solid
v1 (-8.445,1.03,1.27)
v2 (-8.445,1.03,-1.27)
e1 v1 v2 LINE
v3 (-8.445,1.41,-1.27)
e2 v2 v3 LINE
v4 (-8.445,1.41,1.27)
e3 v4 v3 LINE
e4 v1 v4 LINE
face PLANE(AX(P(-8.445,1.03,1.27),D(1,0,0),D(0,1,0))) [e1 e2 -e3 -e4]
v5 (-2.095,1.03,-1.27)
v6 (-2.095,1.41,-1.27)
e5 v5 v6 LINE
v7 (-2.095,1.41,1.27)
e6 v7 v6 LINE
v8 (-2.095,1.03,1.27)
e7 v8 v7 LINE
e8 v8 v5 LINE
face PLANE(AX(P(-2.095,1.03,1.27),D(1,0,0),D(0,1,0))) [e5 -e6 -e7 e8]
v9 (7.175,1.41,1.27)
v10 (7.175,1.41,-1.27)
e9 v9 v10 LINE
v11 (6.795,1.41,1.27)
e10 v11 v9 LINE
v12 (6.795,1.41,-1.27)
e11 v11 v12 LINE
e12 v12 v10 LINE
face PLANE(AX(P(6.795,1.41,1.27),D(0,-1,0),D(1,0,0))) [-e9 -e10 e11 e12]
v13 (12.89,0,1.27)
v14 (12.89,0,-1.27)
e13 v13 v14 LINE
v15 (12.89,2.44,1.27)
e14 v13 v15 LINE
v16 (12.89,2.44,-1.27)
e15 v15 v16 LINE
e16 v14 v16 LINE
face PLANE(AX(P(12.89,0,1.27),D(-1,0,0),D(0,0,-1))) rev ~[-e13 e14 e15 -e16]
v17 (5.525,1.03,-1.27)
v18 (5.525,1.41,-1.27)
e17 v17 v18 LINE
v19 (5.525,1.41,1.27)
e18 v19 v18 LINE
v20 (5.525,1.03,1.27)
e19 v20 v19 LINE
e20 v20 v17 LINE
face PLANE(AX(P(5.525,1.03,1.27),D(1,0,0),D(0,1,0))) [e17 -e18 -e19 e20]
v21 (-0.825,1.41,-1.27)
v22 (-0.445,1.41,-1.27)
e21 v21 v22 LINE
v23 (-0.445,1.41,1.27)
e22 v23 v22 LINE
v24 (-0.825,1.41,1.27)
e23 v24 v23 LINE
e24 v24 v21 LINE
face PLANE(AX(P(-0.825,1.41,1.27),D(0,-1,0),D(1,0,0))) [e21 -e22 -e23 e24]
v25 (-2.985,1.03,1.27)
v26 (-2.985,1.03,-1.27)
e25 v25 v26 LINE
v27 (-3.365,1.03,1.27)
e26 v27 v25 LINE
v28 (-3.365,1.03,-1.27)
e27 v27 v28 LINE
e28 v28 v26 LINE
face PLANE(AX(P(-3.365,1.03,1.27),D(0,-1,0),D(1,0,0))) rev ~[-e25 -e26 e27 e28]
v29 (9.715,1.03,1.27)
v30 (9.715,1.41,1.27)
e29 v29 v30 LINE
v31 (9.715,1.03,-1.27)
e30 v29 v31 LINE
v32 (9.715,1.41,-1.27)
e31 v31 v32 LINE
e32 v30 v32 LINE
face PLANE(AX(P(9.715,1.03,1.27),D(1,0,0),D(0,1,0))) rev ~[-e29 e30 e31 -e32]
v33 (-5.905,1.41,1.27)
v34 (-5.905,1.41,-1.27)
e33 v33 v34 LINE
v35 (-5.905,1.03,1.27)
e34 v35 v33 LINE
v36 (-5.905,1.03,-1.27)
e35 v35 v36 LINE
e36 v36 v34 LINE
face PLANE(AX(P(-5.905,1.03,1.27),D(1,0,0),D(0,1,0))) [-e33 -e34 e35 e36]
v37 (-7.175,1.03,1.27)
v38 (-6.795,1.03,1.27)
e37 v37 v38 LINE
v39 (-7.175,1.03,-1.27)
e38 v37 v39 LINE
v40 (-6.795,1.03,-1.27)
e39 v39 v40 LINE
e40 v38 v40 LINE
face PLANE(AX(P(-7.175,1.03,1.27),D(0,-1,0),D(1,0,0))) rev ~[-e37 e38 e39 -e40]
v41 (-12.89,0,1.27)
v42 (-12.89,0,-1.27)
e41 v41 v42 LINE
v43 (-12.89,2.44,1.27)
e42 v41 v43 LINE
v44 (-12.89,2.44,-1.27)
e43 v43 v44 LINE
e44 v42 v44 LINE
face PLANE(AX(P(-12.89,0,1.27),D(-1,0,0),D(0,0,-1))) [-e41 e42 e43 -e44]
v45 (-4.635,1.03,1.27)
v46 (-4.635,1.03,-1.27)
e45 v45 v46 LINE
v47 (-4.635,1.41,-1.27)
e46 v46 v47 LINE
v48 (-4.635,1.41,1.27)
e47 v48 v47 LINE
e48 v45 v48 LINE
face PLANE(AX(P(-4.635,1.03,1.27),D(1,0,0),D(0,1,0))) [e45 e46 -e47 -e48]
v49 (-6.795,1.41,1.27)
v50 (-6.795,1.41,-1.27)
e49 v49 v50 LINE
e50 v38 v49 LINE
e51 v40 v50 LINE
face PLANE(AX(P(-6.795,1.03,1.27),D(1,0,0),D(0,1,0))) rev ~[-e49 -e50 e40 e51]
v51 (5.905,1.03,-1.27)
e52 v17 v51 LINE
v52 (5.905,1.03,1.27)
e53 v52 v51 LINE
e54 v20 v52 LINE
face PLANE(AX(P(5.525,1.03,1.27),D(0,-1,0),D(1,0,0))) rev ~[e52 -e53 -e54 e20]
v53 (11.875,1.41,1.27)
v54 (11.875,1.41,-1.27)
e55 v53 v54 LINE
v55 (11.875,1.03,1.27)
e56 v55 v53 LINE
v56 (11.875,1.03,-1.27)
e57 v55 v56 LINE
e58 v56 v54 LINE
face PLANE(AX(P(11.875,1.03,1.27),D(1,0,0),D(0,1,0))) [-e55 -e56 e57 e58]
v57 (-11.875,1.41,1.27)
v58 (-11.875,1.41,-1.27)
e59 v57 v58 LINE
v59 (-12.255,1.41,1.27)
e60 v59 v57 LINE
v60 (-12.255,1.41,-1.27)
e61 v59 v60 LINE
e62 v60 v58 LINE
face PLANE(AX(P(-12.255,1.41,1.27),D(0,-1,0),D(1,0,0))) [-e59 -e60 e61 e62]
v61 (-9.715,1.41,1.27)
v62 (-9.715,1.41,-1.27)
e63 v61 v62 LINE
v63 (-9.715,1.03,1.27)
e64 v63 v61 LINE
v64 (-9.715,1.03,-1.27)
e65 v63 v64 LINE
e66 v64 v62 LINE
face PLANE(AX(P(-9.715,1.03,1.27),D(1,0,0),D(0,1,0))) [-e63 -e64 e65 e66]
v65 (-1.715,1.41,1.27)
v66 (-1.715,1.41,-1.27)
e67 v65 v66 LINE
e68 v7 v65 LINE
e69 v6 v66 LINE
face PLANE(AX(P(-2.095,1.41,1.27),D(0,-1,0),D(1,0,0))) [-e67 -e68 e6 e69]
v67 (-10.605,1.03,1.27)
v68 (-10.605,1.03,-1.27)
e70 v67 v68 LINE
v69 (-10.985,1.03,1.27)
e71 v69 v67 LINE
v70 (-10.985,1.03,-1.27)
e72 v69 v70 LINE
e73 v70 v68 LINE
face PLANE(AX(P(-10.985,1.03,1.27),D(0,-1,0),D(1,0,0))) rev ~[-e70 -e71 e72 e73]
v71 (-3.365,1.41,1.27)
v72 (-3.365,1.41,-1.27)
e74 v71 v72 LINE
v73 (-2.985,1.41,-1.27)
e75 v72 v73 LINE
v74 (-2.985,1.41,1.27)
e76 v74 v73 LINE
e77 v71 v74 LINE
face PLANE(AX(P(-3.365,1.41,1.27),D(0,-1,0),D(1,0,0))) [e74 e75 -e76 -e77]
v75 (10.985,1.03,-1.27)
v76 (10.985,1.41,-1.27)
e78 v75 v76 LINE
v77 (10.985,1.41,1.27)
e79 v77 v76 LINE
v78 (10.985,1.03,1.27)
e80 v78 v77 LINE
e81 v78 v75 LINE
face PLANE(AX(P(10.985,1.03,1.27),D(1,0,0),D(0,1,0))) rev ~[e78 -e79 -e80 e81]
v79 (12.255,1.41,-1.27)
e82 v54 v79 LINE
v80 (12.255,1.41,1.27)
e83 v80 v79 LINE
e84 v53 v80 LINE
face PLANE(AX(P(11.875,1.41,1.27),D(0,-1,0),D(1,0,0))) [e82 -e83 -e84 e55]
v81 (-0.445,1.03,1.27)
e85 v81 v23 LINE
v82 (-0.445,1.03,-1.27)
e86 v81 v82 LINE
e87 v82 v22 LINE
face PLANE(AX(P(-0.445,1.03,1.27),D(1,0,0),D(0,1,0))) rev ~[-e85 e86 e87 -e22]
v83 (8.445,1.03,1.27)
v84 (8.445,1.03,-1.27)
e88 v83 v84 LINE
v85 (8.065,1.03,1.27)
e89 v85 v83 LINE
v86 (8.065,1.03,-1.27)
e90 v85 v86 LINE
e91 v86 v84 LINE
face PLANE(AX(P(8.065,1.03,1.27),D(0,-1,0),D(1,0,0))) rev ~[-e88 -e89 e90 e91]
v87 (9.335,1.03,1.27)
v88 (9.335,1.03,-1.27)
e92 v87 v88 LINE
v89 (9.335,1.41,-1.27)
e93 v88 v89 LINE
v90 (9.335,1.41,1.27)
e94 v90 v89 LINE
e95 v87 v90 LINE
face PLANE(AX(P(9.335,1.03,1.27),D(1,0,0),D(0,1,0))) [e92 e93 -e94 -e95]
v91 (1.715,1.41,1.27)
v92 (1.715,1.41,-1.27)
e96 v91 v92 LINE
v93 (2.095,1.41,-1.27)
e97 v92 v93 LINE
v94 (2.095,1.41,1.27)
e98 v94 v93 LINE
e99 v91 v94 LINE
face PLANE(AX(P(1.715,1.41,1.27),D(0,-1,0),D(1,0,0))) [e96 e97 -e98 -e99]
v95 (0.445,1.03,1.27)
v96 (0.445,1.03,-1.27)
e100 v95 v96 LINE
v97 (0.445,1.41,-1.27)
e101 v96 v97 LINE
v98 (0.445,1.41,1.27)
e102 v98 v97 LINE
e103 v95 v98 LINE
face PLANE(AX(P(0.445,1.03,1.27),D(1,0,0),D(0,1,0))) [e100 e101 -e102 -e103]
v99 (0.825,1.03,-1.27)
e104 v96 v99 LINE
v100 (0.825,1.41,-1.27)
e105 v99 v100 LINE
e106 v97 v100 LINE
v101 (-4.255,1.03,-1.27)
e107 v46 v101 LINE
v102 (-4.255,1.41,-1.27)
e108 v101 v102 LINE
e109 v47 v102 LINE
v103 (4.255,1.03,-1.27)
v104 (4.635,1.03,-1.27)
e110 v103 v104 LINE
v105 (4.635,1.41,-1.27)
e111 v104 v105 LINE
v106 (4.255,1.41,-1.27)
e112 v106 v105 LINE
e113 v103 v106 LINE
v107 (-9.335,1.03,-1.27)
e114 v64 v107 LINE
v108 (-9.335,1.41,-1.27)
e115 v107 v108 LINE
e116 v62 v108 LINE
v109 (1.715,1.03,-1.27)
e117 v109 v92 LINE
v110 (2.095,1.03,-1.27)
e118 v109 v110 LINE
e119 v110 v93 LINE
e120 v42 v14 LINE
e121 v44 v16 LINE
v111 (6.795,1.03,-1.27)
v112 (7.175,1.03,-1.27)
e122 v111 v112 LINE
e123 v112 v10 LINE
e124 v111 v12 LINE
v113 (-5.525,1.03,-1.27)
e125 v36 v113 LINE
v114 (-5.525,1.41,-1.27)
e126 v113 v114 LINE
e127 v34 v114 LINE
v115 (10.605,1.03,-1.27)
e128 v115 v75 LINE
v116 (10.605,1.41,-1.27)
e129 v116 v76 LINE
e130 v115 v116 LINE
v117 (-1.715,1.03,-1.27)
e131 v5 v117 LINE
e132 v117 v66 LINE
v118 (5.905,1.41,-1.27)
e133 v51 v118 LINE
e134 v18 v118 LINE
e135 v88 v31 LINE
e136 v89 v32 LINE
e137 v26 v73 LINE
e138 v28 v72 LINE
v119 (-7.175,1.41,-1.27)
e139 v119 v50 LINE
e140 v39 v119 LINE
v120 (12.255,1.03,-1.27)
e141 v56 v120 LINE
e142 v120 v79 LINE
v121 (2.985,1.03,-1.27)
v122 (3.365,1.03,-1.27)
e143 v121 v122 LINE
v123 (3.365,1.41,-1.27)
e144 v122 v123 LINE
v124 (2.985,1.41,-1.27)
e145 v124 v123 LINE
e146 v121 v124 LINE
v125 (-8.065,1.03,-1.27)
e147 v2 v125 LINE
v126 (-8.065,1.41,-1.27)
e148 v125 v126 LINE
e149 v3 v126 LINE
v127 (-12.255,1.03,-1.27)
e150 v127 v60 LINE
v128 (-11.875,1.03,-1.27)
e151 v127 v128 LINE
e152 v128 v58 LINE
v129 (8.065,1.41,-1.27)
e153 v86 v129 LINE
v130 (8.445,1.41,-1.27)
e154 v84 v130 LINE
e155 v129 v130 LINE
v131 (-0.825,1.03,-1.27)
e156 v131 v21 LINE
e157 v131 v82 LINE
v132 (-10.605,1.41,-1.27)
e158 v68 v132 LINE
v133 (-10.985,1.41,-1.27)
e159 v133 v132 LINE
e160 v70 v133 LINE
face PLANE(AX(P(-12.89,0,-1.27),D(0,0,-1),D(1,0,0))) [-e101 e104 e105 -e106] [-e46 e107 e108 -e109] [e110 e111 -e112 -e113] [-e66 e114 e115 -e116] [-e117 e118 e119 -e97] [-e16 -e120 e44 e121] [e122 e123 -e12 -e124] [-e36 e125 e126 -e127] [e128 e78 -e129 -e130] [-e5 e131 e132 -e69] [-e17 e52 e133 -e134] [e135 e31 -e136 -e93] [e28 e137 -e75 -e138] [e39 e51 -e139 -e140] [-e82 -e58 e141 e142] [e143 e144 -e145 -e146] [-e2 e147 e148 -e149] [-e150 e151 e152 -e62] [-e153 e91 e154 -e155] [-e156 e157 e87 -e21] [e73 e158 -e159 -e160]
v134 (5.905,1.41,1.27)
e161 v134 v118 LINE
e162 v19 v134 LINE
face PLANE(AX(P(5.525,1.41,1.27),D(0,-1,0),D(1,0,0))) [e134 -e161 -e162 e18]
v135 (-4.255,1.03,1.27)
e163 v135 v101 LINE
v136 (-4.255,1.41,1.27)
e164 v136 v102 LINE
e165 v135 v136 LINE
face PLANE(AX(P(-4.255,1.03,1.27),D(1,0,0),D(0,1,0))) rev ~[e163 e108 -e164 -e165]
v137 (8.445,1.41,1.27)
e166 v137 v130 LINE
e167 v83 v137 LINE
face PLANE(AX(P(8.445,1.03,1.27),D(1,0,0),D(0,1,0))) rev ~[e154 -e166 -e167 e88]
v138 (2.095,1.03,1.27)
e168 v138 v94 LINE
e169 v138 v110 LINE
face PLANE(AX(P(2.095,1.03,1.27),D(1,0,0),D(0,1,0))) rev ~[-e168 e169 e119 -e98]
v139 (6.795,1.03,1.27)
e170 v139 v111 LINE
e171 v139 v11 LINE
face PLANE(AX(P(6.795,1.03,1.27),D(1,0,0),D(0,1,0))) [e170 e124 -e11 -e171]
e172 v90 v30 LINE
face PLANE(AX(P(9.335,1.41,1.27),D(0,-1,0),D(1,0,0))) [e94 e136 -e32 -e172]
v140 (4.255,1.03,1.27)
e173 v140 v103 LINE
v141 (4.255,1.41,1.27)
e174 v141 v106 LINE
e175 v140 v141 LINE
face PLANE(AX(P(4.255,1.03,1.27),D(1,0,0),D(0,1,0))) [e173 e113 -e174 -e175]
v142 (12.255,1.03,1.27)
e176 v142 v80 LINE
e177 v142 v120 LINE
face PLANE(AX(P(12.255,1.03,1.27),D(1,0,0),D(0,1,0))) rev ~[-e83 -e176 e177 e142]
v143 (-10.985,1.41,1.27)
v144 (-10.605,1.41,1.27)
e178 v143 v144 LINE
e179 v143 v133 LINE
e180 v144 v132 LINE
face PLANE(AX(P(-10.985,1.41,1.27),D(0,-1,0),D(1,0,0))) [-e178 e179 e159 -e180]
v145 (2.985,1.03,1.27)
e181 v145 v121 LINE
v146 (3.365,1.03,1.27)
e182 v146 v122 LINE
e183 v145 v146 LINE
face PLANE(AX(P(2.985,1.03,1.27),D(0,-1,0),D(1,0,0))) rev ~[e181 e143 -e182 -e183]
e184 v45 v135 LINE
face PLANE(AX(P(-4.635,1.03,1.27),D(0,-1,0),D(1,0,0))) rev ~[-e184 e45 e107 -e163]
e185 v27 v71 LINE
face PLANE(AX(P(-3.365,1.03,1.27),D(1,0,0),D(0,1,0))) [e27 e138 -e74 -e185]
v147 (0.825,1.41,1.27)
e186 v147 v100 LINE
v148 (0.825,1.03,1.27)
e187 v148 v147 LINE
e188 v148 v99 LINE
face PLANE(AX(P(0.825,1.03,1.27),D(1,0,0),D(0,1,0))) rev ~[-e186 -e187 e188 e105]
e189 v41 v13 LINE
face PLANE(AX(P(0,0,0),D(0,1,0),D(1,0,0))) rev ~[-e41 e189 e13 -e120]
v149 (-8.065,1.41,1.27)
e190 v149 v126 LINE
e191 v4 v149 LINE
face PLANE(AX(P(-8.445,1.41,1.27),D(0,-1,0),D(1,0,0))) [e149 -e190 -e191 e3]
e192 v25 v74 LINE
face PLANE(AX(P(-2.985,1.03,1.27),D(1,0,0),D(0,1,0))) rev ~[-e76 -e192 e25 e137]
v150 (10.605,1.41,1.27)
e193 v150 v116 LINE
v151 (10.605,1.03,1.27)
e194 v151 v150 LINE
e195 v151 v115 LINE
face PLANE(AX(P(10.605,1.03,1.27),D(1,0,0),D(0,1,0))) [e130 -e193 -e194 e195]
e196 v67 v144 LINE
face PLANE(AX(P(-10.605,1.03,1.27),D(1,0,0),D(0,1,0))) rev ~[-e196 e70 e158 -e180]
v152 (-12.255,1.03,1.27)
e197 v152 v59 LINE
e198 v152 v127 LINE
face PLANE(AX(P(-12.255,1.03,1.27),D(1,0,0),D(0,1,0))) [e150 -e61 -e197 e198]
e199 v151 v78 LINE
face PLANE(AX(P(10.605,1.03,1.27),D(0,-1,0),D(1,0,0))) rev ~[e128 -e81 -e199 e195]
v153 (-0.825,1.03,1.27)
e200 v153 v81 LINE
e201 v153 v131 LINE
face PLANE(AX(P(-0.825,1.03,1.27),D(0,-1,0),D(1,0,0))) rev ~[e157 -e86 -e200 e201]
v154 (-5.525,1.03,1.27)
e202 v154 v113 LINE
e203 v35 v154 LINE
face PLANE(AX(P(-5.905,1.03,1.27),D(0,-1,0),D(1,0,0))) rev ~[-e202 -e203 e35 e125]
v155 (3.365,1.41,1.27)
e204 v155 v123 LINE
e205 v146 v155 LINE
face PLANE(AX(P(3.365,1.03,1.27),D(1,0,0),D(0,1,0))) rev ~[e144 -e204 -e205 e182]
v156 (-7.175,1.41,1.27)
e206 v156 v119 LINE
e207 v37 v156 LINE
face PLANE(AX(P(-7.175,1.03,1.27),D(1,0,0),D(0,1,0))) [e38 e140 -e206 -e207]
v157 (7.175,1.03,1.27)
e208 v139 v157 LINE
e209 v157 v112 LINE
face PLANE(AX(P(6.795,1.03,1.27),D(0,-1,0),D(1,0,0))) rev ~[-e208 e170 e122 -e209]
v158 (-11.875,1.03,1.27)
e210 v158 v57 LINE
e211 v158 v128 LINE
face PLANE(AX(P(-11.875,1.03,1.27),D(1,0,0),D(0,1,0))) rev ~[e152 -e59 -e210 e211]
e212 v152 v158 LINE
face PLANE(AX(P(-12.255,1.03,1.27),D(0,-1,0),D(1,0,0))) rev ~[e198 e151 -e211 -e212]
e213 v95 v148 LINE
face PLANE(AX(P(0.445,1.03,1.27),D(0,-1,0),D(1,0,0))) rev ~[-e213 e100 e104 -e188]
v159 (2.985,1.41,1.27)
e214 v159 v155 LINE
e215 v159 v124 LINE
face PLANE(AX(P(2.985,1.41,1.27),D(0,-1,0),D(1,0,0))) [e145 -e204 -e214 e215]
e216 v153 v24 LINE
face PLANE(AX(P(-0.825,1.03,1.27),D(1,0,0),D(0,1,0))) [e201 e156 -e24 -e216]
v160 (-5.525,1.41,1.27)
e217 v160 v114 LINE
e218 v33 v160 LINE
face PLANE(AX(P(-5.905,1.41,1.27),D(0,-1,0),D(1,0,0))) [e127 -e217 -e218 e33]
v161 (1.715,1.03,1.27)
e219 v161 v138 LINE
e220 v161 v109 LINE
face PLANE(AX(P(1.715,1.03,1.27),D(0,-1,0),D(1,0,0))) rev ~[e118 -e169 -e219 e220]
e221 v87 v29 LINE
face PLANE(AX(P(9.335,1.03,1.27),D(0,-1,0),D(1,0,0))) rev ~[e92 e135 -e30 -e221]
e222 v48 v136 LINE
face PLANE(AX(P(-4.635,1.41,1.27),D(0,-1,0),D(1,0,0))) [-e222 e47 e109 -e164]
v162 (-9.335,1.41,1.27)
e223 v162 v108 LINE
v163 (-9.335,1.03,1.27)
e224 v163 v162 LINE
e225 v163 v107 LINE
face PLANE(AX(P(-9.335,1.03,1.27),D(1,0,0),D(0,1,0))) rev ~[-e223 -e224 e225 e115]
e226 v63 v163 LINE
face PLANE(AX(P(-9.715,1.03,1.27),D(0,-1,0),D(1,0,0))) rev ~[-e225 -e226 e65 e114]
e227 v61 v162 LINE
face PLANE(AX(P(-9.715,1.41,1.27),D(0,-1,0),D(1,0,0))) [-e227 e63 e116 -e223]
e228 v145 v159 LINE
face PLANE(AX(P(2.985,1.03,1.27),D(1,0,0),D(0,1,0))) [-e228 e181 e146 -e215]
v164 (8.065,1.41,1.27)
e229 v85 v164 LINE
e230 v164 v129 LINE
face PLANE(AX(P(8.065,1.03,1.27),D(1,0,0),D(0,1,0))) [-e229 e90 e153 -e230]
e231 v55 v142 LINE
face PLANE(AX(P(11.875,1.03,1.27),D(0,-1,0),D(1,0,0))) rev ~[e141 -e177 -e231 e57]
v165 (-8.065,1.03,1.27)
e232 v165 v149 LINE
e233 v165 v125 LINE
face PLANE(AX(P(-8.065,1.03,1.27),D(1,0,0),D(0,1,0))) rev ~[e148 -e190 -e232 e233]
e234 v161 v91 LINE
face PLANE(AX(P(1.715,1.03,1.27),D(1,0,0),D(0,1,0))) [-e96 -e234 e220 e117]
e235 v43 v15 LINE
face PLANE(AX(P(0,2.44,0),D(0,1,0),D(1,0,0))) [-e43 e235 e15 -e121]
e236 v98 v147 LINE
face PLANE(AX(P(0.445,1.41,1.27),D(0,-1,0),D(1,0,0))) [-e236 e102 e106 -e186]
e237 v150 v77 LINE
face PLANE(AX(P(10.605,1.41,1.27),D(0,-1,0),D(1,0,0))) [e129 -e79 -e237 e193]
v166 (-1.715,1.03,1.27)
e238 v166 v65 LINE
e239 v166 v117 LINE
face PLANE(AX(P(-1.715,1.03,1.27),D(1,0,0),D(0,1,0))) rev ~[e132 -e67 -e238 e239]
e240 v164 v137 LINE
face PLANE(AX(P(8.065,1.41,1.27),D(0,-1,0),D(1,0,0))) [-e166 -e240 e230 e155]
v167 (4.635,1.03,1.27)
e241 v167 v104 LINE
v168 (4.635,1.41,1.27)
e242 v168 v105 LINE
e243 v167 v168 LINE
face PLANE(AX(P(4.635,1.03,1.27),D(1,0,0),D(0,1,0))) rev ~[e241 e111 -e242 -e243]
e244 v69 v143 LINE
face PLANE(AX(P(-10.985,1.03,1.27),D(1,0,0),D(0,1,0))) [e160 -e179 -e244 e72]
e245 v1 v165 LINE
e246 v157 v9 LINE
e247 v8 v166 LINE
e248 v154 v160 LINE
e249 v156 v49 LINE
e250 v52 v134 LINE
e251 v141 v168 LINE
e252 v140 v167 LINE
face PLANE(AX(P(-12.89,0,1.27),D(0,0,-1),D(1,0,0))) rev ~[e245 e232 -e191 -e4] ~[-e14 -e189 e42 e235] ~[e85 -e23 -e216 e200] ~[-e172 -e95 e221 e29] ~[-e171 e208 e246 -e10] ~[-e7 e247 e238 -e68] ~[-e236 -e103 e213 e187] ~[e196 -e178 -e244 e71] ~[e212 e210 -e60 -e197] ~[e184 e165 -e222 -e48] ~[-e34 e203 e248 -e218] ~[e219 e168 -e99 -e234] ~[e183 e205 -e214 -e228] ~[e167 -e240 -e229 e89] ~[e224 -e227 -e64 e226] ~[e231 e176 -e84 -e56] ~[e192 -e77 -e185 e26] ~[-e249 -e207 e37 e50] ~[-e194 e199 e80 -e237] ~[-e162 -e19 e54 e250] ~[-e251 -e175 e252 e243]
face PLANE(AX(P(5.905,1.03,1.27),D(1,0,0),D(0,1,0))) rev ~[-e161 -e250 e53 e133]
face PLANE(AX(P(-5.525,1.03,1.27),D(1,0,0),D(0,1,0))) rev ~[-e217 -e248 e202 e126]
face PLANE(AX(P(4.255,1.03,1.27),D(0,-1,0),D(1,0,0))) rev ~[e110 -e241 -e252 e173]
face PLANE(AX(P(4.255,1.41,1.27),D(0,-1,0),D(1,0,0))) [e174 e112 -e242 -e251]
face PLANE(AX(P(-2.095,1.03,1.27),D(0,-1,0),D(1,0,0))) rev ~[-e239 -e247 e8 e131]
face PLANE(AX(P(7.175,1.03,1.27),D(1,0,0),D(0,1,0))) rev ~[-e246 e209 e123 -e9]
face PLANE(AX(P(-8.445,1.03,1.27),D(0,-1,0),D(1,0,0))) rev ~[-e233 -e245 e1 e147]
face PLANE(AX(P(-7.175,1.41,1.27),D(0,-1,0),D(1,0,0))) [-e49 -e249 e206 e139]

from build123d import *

# Parameters (mm, degrees)
SKETCH1_W           = 25.78
SKETCH1_H           = 2.54
BOSS_EXTRUDE1_DEPTH = 2.44
CUT_EXTRUDE1_REACH  = 4.54
SKETCH2_W           = 0.38
SKETCH2_H           = 0.38


with BuildPart() as part:
    # Sketch1 → Boss-Extrude1 (new body)
    with BuildSketch(Plane(origin=(0, 0, 0), x_dir=(1, 0, 0), z_dir=(0, 1, 0))):
        Rectangle(SKETCH1_W, SKETCH1_H)
    extrude(amount=BOSS_EXTRUDE1_DEPTH)

    # Sketch2 → Cut-Extrude1 (cut, up to next)
    with BuildSketch(Plane.XY.offset(1.27), mode=Mode.PRIVATE) as cut_extrude1_sk1:
        with Locations((-10.795, 1.22)):
            Rectangle(SKETCH2_W, SKETCH2_H)
    cut_extrude1_tool1 = extrude(cut_extrude1_sk1.sketch, amount=-CUT_EXTRUDE1_REACH, mode=Mode.PRIVATE) & part.part
    add(cut_extrude1_tool1.solids().sort_by_distance((-10.795, 1.22, 1.27))[0], mode=Mode.SUBTRACT)
    # Sketch2 → Cut-Extrude1 (cut, up to next)
    with BuildSketch(Plane.XY.offset(1.27), mode=Mode.PRIVATE) as cut_extrude1_sk2:
        with Locations((-12.065, 1.22)):
            Rectangle(SKETCH2_W, SKETCH2_H)
    cut_extrude1_tool2 = extrude(cut_extrude1_sk2.sketch, amount=-CUT_EXTRUDE1_REACH, mode=Mode.PRIVATE) & part.part
    add(cut_extrude1_tool2.solids().sort_by_distance((-12.065, 1.22, 1.27))[0], mode=Mode.SUBTRACT)
    # Sketch2 → Cut-Extrude1 (cut, up to next)
    with BuildSketch(Plane.XY.offset(1.27), mode=Mode.PRIVATE) as cut_extrude1_sk3:
        with Locations((-9.525, 1.22)):
            Rectangle(SKETCH2_W, SKETCH2_H)
    cut_extrude1_tool3 = extrude(cut_extrude1_sk3.sketch, amount=-CUT_EXTRUDE1_REACH, mode=Mode.PRIVATE) & part.part
    add(cut_extrude1_tool3.solids().sort_by_distance((-9.525, 1.22, 1.27))[0], mode=Mode.SUBTRACT)
    # Sketch2 → Cut-Extrude1 (cut, up to next)
    with BuildSketch(Plane.XY.offset(1.27), mode=Mode.PRIVATE) as cut_extrude1_sk4:
        with Locations((-8.255, 1.22)):
            Rectangle(SKETCH2_W, SKETCH2_H)
    cut_extrude1_tool4 = extrude(cut_extrude1_sk4.sketch, amount=-CUT_EXTRUDE1_REACH, mode=Mode.PRIVATE) & part.part
    add(cut_extrude1_tool4.solids().sort_by_distance((-8.255, 1.22, 1.27))[0], mode=Mode.SUBTRACT)
    # Sketch2 → Cut-Extrude1 (cut, up to next)
    with BuildSketch(Plane.XY.offset(1.27), mode=Mode.PRIVATE) as cut_extrude1_sk5:
        with Locations((-6.985, 1.22)):
            Rectangle(SKETCH2_W, SKETCH2_H)
    cut_extrude1_tool5 = extrude(cut_extrude1_sk5.sketch, amount=-CUT_EXTRUDE1_REACH, mode=Mode.PRIVATE) & part.part
    add(cut_extrude1_tool5.solids().sort_by_distance((-6.985, 1.22, 1.27))[0], mode=Mode.SUBTRACT)
    # Sketch2 → Cut-Extrude1 (cut, up to next)
    with BuildSketch(Plane.XY.offset(1.27), mode=Mode.PRIVATE) as cut_extrude1_sk6:
        with Locations((-5.715, 1.22)):
            Rectangle(SKETCH2_W, SKETCH2_H)
    cut_extrude1_tool6 = extrude(cut_extrude1_sk6.sketch, amount=-CUT_EXTRUDE1_REACH, mode=Mode.PRIVATE) & part.part
    add(cut_extrude1_tool6.solids().sort_by_distance((-5.715, 1.22, 1.27))[0], mode=Mode.SUBTRACT)
    # Sketch2 → Cut-Extrude1 (cut, up to next)
    with BuildSketch(Plane.XY.offset(1.27), mode=Mode.PRIVATE) as cut_extrude1_sk7:
        with Locations((-4.445, 1.22)):
            Rectangle(SKETCH2_W, SKETCH2_H)
    cut_extrude1_tool7 = extrude(cut_extrude1_sk7.sketch, amount=-CUT_EXTRUDE1_REACH, mode=Mode.PRIVATE) & part.part
    add(cut_extrude1_tool7.solids().sort_by_distance((-4.445, 1.22, 1.27))[0], mode=Mode.SUBTRACT)
    # Sketch2 → Cut-Extrude1 (cut, up to next)
    with BuildSketch(Plane.XY.offset(1.27), mode=Mode.PRIVATE) as cut_extrude1_sk8:
        with Locations((-3.175, 1.22)):
            Rectangle(SKETCH2_W, SKETCH2_H)
    cut_extrude1_tool8 = extrude(cut_extrude1_sk8.sketch, amount=-CUT_EXTRUDE1_REACH, mode=Mode.PRIVATE) & part.part
    add(cut_extrude1_tool8.solids().sort_by_distance((-3.175, 1.22, 1.27))[0], mode=Mode.SUBTRACT)
    # Sketch2 → Cut-Extrude1 (cut, up to next)
    with BuildSketch(Plane.XY.offset(1.27), mode=Mode.PRIVATE) as cut_extrude1_sk9:
        with Locations((-1.905, 1.22)):
            Rectangle(SKETCH2_W, SKETCH2_H)
    cut_extrude1_tool9 = extrude(cut_extrude1_sk9.sketch, amount=-CUT_EXTRUDE1_REACH, mode=Mode.PRIVATE) & part.part
    add(cut_extrude1_tool9.solids().sort_by_distance((-1.905, 1.22, 1.27))[0], mode=Mode.SUBTRACT)
    # Sketch2 → Cut-Extrude1 (cut, up to next)
    with BuildSketch(Plane.XY.offset(1.27), mode=Mode.PRIVATE) as cut_extrude1_sk10:
        with Locations((-0.635, 1.22)):
            Rectangle(SKETCH2_W, SKETCH2_H)
    cut_extrude1_tool10 = extrude(cut_extrude1_sk10.sketch, amount=-CUT_EXTRUDE1_REACH, mode=Mode.PRIVATE) & part.part
    add(cut_extrude1_tool10.solids().sort_by_distance((-0.635, 1.22, 1.27))[0], mode=Mode.SUBTRACT)
    # Sketch2 → Cut-Extrude1 (cut, up to next)
    with BuildSketch(Plane.XY.offset(1.27), mode=Mode.PRIVATE) as cut_extrude1_sk11:
        with Locations((0.635, 1.22)):
            Rectangle(SKETCH2_W, SKETCH2_H)
    cut_extrude1_tool11 = extrude(cut_extrude1_sk11.sketch, amount=-CUT_EXTRUDE1_REACH, mode=Mode.PRIVATE) & part.part
    add(cut_extrude1_tool11.solids().sort_by_distance((0.635, 1.22, 1.27))[0], mode=Mode.SUBTRACT)
    # Sketch2 → Cut-Extrude1 (cut, up to next)
    with BuildSketch(Plane.XY.offset(1.27), mode=Mode.PRIVATE) as cut_extrude1_sk12:
        with Locations((1.905, 1.22)):
            Rectangle(SKETCH2_W, SKETCH2_H)
    cut_extrude1_tool12 = extrude(cut_extrude1_sk12.sketch, amount=-CUT_EXTRUDE1_REACH, mode=Mode.PRIVATE) & part.part
    add(cut_extrude1_tool12.solids().sort_by_distance((1.905, 1.22, 1.27))[0], mode=Mode.SUBTRACT)
    # Sketch2 → Cut-Extrude1 (cut, up to next)
    with BuildSketch(Plane.XY.offset(1.27), mode=Mode.PRIVATE) as cut_extrude1_sk13:
        with Locations((3.175, 1.22)):
            Rectangle(SKETCH2_W, SKETCH2_H)
    cut_extrude1_tool13 = extrude(cut_extrude1_sk13.sketch, amount=-CUT_EXTRUDE1_REACH, mode=Mode.PRIVATE) & part.part
    add(cut_extrude1_tool13.solids().sort_by_distance((3.175, 1.22, 1.27))[0], mode=Mode.SUBTRACT)
    # Sketch2 → Cut-Extrude1 (cut, up to next)
    with BuildSketch(Plane.XY.offset(1.27), mode=Mode.PRIVATE) as cut_extrude1_sk14:
        with Locations((4.445, 1.22)):
            Rectangle(SKETCH2_W, SKETCH2_H)
    cut_extrude1_tool14 = extrude(cut_extrude1_sk14.sketch, amount=-CUT_EXTRUDE1_REACH, mode=Mode.PRIVATE) & part.part
    add(cut_extrude1_tool14.solids().sort_by_distance((4.445, 1.22, 1.27))[0], mode=Mode.SUBTRACT)
    # Sketch2 → Cut-Extrude1 (cut, up to next)
    with BuildSketch(Plane.XY.offset(1.27), mode=Mode.PRIVATE) as cut_extrude1_sk15:
        with Locations((5.715, 1.22)):
            Rectangle(SKETCH2_W, SKETCH2_H)
    cut_extrude1_tool15 = extrude(cut_extrude1_sk15.sketch, amount=-CUT_EXTRUDE1_REACH, mode=Mode.PRIVATE) & part.part
    add(cut_extrude1_tool15.solids().sort_by_distance((5.715, 1.22, 1.27))[0], mode=Mode.SUBTRACT)
    # Sketch2 → Cut-Extrude1 (cut, up to next)
    with BuildSketch(Plane.XY.offset(1.27), mode=Mode.PRIVATE) as cut_extrude1_sk16:
        with Locations((6.985, 1.22)):
            Rectangle(SKETCH2_W, SKETCH2_H)
    cut_extrude1_tool16 = extrude(cut_extrude1_sk16.sketch, amount=-CUT_EXTRUDE1_REACH, mode=Mode.PRIVATE) & part.part
    add(cut_extrude1_tool16.solids().sort_by_distance((6.985, 1.22, 1.27))[0], mode=Mode.SUBTRACT)
    # Sketch2 → Cut-Extrude1 (cut, up to next)
    with BuildSketch(Plane.XY.offset(1.27), mode=Mode.PRIVATE) as cut_extrude1_sk17:
        with Locations((8.255, 1.22)):
            Rectangle(SKETCH2_W, SKETCH2_H)
    cut_extrude1_tool17 = extrude(cut_extrude1_sk17.sketch, amount=-CUT_EXTRUDE1_REACH, mode=Mode.PRIVATE) & part.part
    add(cut_extrude1_tool17.solids().sort_by_distance((8.255, 1.22, 1.27))[0], mode=Mode.SUBTRACT)
    # Sketch2 → Cut-Extrude1 (cut, up to next)
    with BuildSketch(Plane.XY.offset(1.27), mode=Mode.PRIVATE) as cut_extrude1_sk18:
        with Locations((9.525, 1.22)):
            Rectangle(SKETCH2_W, SKETCH2_H)
    cut_extrude1_tool18 = extrude(cut_extrude1_sk18.sketch, amount=-CUT_EXTRUDE1_REACH, mode=Mode.PRIVATE) & part.part
    add(cut_extrude1_tool18.solids().sort_by_distance((9.525, 1.22, 1.27))[0], mode=Mode.SUBTRACT)
    # Sketch2 → Cut-Extrude1 (cut, up to next)
    with BuildSketch(Plane.XY.offset(1.27), mode=Mode.PRIVATE) as cut_extrude1_sk19:
        with Locations((10.795, 1.22)):
            Rectangle(SKETCH2_W, SKETCH2_H)
    cut_extrude1_tool19 = extrude(cut_extrude1_sk19.sketch, amount=-CUT_EXTRUDE1_REACH, mode=Mode.PRIVATE) & part.part
    add(cut_extrude1_tool19.solids().sort_by_distance((10.795, 1.22, 1.27))[0], mode=Mode.SUBTRACT)
    # Sketch2 → Cut-Extrude1 (cut, up to next)
    with BuildSketch(Plane.XY.offset(1.27), mode=Mode.PRIVATE) as cut_extrude1_sk20:
        with Locations((12.065, 1.22)):
            Rectangle(SKETCH2_W, SKETCH2_H)
    cut_extrude1_tool20 = extrude(cut_extrude1_sk20.sketch, amount=-CUT_EXTRUDE1_REACH, mode=Mode.PRIVATE) & part.part
    add(cut_extrude1_tool20.solids().sort_by_distance((12.065, 1.22, 1.27))[0], mode=Mode.SUBTRACT)


solid = part.part
